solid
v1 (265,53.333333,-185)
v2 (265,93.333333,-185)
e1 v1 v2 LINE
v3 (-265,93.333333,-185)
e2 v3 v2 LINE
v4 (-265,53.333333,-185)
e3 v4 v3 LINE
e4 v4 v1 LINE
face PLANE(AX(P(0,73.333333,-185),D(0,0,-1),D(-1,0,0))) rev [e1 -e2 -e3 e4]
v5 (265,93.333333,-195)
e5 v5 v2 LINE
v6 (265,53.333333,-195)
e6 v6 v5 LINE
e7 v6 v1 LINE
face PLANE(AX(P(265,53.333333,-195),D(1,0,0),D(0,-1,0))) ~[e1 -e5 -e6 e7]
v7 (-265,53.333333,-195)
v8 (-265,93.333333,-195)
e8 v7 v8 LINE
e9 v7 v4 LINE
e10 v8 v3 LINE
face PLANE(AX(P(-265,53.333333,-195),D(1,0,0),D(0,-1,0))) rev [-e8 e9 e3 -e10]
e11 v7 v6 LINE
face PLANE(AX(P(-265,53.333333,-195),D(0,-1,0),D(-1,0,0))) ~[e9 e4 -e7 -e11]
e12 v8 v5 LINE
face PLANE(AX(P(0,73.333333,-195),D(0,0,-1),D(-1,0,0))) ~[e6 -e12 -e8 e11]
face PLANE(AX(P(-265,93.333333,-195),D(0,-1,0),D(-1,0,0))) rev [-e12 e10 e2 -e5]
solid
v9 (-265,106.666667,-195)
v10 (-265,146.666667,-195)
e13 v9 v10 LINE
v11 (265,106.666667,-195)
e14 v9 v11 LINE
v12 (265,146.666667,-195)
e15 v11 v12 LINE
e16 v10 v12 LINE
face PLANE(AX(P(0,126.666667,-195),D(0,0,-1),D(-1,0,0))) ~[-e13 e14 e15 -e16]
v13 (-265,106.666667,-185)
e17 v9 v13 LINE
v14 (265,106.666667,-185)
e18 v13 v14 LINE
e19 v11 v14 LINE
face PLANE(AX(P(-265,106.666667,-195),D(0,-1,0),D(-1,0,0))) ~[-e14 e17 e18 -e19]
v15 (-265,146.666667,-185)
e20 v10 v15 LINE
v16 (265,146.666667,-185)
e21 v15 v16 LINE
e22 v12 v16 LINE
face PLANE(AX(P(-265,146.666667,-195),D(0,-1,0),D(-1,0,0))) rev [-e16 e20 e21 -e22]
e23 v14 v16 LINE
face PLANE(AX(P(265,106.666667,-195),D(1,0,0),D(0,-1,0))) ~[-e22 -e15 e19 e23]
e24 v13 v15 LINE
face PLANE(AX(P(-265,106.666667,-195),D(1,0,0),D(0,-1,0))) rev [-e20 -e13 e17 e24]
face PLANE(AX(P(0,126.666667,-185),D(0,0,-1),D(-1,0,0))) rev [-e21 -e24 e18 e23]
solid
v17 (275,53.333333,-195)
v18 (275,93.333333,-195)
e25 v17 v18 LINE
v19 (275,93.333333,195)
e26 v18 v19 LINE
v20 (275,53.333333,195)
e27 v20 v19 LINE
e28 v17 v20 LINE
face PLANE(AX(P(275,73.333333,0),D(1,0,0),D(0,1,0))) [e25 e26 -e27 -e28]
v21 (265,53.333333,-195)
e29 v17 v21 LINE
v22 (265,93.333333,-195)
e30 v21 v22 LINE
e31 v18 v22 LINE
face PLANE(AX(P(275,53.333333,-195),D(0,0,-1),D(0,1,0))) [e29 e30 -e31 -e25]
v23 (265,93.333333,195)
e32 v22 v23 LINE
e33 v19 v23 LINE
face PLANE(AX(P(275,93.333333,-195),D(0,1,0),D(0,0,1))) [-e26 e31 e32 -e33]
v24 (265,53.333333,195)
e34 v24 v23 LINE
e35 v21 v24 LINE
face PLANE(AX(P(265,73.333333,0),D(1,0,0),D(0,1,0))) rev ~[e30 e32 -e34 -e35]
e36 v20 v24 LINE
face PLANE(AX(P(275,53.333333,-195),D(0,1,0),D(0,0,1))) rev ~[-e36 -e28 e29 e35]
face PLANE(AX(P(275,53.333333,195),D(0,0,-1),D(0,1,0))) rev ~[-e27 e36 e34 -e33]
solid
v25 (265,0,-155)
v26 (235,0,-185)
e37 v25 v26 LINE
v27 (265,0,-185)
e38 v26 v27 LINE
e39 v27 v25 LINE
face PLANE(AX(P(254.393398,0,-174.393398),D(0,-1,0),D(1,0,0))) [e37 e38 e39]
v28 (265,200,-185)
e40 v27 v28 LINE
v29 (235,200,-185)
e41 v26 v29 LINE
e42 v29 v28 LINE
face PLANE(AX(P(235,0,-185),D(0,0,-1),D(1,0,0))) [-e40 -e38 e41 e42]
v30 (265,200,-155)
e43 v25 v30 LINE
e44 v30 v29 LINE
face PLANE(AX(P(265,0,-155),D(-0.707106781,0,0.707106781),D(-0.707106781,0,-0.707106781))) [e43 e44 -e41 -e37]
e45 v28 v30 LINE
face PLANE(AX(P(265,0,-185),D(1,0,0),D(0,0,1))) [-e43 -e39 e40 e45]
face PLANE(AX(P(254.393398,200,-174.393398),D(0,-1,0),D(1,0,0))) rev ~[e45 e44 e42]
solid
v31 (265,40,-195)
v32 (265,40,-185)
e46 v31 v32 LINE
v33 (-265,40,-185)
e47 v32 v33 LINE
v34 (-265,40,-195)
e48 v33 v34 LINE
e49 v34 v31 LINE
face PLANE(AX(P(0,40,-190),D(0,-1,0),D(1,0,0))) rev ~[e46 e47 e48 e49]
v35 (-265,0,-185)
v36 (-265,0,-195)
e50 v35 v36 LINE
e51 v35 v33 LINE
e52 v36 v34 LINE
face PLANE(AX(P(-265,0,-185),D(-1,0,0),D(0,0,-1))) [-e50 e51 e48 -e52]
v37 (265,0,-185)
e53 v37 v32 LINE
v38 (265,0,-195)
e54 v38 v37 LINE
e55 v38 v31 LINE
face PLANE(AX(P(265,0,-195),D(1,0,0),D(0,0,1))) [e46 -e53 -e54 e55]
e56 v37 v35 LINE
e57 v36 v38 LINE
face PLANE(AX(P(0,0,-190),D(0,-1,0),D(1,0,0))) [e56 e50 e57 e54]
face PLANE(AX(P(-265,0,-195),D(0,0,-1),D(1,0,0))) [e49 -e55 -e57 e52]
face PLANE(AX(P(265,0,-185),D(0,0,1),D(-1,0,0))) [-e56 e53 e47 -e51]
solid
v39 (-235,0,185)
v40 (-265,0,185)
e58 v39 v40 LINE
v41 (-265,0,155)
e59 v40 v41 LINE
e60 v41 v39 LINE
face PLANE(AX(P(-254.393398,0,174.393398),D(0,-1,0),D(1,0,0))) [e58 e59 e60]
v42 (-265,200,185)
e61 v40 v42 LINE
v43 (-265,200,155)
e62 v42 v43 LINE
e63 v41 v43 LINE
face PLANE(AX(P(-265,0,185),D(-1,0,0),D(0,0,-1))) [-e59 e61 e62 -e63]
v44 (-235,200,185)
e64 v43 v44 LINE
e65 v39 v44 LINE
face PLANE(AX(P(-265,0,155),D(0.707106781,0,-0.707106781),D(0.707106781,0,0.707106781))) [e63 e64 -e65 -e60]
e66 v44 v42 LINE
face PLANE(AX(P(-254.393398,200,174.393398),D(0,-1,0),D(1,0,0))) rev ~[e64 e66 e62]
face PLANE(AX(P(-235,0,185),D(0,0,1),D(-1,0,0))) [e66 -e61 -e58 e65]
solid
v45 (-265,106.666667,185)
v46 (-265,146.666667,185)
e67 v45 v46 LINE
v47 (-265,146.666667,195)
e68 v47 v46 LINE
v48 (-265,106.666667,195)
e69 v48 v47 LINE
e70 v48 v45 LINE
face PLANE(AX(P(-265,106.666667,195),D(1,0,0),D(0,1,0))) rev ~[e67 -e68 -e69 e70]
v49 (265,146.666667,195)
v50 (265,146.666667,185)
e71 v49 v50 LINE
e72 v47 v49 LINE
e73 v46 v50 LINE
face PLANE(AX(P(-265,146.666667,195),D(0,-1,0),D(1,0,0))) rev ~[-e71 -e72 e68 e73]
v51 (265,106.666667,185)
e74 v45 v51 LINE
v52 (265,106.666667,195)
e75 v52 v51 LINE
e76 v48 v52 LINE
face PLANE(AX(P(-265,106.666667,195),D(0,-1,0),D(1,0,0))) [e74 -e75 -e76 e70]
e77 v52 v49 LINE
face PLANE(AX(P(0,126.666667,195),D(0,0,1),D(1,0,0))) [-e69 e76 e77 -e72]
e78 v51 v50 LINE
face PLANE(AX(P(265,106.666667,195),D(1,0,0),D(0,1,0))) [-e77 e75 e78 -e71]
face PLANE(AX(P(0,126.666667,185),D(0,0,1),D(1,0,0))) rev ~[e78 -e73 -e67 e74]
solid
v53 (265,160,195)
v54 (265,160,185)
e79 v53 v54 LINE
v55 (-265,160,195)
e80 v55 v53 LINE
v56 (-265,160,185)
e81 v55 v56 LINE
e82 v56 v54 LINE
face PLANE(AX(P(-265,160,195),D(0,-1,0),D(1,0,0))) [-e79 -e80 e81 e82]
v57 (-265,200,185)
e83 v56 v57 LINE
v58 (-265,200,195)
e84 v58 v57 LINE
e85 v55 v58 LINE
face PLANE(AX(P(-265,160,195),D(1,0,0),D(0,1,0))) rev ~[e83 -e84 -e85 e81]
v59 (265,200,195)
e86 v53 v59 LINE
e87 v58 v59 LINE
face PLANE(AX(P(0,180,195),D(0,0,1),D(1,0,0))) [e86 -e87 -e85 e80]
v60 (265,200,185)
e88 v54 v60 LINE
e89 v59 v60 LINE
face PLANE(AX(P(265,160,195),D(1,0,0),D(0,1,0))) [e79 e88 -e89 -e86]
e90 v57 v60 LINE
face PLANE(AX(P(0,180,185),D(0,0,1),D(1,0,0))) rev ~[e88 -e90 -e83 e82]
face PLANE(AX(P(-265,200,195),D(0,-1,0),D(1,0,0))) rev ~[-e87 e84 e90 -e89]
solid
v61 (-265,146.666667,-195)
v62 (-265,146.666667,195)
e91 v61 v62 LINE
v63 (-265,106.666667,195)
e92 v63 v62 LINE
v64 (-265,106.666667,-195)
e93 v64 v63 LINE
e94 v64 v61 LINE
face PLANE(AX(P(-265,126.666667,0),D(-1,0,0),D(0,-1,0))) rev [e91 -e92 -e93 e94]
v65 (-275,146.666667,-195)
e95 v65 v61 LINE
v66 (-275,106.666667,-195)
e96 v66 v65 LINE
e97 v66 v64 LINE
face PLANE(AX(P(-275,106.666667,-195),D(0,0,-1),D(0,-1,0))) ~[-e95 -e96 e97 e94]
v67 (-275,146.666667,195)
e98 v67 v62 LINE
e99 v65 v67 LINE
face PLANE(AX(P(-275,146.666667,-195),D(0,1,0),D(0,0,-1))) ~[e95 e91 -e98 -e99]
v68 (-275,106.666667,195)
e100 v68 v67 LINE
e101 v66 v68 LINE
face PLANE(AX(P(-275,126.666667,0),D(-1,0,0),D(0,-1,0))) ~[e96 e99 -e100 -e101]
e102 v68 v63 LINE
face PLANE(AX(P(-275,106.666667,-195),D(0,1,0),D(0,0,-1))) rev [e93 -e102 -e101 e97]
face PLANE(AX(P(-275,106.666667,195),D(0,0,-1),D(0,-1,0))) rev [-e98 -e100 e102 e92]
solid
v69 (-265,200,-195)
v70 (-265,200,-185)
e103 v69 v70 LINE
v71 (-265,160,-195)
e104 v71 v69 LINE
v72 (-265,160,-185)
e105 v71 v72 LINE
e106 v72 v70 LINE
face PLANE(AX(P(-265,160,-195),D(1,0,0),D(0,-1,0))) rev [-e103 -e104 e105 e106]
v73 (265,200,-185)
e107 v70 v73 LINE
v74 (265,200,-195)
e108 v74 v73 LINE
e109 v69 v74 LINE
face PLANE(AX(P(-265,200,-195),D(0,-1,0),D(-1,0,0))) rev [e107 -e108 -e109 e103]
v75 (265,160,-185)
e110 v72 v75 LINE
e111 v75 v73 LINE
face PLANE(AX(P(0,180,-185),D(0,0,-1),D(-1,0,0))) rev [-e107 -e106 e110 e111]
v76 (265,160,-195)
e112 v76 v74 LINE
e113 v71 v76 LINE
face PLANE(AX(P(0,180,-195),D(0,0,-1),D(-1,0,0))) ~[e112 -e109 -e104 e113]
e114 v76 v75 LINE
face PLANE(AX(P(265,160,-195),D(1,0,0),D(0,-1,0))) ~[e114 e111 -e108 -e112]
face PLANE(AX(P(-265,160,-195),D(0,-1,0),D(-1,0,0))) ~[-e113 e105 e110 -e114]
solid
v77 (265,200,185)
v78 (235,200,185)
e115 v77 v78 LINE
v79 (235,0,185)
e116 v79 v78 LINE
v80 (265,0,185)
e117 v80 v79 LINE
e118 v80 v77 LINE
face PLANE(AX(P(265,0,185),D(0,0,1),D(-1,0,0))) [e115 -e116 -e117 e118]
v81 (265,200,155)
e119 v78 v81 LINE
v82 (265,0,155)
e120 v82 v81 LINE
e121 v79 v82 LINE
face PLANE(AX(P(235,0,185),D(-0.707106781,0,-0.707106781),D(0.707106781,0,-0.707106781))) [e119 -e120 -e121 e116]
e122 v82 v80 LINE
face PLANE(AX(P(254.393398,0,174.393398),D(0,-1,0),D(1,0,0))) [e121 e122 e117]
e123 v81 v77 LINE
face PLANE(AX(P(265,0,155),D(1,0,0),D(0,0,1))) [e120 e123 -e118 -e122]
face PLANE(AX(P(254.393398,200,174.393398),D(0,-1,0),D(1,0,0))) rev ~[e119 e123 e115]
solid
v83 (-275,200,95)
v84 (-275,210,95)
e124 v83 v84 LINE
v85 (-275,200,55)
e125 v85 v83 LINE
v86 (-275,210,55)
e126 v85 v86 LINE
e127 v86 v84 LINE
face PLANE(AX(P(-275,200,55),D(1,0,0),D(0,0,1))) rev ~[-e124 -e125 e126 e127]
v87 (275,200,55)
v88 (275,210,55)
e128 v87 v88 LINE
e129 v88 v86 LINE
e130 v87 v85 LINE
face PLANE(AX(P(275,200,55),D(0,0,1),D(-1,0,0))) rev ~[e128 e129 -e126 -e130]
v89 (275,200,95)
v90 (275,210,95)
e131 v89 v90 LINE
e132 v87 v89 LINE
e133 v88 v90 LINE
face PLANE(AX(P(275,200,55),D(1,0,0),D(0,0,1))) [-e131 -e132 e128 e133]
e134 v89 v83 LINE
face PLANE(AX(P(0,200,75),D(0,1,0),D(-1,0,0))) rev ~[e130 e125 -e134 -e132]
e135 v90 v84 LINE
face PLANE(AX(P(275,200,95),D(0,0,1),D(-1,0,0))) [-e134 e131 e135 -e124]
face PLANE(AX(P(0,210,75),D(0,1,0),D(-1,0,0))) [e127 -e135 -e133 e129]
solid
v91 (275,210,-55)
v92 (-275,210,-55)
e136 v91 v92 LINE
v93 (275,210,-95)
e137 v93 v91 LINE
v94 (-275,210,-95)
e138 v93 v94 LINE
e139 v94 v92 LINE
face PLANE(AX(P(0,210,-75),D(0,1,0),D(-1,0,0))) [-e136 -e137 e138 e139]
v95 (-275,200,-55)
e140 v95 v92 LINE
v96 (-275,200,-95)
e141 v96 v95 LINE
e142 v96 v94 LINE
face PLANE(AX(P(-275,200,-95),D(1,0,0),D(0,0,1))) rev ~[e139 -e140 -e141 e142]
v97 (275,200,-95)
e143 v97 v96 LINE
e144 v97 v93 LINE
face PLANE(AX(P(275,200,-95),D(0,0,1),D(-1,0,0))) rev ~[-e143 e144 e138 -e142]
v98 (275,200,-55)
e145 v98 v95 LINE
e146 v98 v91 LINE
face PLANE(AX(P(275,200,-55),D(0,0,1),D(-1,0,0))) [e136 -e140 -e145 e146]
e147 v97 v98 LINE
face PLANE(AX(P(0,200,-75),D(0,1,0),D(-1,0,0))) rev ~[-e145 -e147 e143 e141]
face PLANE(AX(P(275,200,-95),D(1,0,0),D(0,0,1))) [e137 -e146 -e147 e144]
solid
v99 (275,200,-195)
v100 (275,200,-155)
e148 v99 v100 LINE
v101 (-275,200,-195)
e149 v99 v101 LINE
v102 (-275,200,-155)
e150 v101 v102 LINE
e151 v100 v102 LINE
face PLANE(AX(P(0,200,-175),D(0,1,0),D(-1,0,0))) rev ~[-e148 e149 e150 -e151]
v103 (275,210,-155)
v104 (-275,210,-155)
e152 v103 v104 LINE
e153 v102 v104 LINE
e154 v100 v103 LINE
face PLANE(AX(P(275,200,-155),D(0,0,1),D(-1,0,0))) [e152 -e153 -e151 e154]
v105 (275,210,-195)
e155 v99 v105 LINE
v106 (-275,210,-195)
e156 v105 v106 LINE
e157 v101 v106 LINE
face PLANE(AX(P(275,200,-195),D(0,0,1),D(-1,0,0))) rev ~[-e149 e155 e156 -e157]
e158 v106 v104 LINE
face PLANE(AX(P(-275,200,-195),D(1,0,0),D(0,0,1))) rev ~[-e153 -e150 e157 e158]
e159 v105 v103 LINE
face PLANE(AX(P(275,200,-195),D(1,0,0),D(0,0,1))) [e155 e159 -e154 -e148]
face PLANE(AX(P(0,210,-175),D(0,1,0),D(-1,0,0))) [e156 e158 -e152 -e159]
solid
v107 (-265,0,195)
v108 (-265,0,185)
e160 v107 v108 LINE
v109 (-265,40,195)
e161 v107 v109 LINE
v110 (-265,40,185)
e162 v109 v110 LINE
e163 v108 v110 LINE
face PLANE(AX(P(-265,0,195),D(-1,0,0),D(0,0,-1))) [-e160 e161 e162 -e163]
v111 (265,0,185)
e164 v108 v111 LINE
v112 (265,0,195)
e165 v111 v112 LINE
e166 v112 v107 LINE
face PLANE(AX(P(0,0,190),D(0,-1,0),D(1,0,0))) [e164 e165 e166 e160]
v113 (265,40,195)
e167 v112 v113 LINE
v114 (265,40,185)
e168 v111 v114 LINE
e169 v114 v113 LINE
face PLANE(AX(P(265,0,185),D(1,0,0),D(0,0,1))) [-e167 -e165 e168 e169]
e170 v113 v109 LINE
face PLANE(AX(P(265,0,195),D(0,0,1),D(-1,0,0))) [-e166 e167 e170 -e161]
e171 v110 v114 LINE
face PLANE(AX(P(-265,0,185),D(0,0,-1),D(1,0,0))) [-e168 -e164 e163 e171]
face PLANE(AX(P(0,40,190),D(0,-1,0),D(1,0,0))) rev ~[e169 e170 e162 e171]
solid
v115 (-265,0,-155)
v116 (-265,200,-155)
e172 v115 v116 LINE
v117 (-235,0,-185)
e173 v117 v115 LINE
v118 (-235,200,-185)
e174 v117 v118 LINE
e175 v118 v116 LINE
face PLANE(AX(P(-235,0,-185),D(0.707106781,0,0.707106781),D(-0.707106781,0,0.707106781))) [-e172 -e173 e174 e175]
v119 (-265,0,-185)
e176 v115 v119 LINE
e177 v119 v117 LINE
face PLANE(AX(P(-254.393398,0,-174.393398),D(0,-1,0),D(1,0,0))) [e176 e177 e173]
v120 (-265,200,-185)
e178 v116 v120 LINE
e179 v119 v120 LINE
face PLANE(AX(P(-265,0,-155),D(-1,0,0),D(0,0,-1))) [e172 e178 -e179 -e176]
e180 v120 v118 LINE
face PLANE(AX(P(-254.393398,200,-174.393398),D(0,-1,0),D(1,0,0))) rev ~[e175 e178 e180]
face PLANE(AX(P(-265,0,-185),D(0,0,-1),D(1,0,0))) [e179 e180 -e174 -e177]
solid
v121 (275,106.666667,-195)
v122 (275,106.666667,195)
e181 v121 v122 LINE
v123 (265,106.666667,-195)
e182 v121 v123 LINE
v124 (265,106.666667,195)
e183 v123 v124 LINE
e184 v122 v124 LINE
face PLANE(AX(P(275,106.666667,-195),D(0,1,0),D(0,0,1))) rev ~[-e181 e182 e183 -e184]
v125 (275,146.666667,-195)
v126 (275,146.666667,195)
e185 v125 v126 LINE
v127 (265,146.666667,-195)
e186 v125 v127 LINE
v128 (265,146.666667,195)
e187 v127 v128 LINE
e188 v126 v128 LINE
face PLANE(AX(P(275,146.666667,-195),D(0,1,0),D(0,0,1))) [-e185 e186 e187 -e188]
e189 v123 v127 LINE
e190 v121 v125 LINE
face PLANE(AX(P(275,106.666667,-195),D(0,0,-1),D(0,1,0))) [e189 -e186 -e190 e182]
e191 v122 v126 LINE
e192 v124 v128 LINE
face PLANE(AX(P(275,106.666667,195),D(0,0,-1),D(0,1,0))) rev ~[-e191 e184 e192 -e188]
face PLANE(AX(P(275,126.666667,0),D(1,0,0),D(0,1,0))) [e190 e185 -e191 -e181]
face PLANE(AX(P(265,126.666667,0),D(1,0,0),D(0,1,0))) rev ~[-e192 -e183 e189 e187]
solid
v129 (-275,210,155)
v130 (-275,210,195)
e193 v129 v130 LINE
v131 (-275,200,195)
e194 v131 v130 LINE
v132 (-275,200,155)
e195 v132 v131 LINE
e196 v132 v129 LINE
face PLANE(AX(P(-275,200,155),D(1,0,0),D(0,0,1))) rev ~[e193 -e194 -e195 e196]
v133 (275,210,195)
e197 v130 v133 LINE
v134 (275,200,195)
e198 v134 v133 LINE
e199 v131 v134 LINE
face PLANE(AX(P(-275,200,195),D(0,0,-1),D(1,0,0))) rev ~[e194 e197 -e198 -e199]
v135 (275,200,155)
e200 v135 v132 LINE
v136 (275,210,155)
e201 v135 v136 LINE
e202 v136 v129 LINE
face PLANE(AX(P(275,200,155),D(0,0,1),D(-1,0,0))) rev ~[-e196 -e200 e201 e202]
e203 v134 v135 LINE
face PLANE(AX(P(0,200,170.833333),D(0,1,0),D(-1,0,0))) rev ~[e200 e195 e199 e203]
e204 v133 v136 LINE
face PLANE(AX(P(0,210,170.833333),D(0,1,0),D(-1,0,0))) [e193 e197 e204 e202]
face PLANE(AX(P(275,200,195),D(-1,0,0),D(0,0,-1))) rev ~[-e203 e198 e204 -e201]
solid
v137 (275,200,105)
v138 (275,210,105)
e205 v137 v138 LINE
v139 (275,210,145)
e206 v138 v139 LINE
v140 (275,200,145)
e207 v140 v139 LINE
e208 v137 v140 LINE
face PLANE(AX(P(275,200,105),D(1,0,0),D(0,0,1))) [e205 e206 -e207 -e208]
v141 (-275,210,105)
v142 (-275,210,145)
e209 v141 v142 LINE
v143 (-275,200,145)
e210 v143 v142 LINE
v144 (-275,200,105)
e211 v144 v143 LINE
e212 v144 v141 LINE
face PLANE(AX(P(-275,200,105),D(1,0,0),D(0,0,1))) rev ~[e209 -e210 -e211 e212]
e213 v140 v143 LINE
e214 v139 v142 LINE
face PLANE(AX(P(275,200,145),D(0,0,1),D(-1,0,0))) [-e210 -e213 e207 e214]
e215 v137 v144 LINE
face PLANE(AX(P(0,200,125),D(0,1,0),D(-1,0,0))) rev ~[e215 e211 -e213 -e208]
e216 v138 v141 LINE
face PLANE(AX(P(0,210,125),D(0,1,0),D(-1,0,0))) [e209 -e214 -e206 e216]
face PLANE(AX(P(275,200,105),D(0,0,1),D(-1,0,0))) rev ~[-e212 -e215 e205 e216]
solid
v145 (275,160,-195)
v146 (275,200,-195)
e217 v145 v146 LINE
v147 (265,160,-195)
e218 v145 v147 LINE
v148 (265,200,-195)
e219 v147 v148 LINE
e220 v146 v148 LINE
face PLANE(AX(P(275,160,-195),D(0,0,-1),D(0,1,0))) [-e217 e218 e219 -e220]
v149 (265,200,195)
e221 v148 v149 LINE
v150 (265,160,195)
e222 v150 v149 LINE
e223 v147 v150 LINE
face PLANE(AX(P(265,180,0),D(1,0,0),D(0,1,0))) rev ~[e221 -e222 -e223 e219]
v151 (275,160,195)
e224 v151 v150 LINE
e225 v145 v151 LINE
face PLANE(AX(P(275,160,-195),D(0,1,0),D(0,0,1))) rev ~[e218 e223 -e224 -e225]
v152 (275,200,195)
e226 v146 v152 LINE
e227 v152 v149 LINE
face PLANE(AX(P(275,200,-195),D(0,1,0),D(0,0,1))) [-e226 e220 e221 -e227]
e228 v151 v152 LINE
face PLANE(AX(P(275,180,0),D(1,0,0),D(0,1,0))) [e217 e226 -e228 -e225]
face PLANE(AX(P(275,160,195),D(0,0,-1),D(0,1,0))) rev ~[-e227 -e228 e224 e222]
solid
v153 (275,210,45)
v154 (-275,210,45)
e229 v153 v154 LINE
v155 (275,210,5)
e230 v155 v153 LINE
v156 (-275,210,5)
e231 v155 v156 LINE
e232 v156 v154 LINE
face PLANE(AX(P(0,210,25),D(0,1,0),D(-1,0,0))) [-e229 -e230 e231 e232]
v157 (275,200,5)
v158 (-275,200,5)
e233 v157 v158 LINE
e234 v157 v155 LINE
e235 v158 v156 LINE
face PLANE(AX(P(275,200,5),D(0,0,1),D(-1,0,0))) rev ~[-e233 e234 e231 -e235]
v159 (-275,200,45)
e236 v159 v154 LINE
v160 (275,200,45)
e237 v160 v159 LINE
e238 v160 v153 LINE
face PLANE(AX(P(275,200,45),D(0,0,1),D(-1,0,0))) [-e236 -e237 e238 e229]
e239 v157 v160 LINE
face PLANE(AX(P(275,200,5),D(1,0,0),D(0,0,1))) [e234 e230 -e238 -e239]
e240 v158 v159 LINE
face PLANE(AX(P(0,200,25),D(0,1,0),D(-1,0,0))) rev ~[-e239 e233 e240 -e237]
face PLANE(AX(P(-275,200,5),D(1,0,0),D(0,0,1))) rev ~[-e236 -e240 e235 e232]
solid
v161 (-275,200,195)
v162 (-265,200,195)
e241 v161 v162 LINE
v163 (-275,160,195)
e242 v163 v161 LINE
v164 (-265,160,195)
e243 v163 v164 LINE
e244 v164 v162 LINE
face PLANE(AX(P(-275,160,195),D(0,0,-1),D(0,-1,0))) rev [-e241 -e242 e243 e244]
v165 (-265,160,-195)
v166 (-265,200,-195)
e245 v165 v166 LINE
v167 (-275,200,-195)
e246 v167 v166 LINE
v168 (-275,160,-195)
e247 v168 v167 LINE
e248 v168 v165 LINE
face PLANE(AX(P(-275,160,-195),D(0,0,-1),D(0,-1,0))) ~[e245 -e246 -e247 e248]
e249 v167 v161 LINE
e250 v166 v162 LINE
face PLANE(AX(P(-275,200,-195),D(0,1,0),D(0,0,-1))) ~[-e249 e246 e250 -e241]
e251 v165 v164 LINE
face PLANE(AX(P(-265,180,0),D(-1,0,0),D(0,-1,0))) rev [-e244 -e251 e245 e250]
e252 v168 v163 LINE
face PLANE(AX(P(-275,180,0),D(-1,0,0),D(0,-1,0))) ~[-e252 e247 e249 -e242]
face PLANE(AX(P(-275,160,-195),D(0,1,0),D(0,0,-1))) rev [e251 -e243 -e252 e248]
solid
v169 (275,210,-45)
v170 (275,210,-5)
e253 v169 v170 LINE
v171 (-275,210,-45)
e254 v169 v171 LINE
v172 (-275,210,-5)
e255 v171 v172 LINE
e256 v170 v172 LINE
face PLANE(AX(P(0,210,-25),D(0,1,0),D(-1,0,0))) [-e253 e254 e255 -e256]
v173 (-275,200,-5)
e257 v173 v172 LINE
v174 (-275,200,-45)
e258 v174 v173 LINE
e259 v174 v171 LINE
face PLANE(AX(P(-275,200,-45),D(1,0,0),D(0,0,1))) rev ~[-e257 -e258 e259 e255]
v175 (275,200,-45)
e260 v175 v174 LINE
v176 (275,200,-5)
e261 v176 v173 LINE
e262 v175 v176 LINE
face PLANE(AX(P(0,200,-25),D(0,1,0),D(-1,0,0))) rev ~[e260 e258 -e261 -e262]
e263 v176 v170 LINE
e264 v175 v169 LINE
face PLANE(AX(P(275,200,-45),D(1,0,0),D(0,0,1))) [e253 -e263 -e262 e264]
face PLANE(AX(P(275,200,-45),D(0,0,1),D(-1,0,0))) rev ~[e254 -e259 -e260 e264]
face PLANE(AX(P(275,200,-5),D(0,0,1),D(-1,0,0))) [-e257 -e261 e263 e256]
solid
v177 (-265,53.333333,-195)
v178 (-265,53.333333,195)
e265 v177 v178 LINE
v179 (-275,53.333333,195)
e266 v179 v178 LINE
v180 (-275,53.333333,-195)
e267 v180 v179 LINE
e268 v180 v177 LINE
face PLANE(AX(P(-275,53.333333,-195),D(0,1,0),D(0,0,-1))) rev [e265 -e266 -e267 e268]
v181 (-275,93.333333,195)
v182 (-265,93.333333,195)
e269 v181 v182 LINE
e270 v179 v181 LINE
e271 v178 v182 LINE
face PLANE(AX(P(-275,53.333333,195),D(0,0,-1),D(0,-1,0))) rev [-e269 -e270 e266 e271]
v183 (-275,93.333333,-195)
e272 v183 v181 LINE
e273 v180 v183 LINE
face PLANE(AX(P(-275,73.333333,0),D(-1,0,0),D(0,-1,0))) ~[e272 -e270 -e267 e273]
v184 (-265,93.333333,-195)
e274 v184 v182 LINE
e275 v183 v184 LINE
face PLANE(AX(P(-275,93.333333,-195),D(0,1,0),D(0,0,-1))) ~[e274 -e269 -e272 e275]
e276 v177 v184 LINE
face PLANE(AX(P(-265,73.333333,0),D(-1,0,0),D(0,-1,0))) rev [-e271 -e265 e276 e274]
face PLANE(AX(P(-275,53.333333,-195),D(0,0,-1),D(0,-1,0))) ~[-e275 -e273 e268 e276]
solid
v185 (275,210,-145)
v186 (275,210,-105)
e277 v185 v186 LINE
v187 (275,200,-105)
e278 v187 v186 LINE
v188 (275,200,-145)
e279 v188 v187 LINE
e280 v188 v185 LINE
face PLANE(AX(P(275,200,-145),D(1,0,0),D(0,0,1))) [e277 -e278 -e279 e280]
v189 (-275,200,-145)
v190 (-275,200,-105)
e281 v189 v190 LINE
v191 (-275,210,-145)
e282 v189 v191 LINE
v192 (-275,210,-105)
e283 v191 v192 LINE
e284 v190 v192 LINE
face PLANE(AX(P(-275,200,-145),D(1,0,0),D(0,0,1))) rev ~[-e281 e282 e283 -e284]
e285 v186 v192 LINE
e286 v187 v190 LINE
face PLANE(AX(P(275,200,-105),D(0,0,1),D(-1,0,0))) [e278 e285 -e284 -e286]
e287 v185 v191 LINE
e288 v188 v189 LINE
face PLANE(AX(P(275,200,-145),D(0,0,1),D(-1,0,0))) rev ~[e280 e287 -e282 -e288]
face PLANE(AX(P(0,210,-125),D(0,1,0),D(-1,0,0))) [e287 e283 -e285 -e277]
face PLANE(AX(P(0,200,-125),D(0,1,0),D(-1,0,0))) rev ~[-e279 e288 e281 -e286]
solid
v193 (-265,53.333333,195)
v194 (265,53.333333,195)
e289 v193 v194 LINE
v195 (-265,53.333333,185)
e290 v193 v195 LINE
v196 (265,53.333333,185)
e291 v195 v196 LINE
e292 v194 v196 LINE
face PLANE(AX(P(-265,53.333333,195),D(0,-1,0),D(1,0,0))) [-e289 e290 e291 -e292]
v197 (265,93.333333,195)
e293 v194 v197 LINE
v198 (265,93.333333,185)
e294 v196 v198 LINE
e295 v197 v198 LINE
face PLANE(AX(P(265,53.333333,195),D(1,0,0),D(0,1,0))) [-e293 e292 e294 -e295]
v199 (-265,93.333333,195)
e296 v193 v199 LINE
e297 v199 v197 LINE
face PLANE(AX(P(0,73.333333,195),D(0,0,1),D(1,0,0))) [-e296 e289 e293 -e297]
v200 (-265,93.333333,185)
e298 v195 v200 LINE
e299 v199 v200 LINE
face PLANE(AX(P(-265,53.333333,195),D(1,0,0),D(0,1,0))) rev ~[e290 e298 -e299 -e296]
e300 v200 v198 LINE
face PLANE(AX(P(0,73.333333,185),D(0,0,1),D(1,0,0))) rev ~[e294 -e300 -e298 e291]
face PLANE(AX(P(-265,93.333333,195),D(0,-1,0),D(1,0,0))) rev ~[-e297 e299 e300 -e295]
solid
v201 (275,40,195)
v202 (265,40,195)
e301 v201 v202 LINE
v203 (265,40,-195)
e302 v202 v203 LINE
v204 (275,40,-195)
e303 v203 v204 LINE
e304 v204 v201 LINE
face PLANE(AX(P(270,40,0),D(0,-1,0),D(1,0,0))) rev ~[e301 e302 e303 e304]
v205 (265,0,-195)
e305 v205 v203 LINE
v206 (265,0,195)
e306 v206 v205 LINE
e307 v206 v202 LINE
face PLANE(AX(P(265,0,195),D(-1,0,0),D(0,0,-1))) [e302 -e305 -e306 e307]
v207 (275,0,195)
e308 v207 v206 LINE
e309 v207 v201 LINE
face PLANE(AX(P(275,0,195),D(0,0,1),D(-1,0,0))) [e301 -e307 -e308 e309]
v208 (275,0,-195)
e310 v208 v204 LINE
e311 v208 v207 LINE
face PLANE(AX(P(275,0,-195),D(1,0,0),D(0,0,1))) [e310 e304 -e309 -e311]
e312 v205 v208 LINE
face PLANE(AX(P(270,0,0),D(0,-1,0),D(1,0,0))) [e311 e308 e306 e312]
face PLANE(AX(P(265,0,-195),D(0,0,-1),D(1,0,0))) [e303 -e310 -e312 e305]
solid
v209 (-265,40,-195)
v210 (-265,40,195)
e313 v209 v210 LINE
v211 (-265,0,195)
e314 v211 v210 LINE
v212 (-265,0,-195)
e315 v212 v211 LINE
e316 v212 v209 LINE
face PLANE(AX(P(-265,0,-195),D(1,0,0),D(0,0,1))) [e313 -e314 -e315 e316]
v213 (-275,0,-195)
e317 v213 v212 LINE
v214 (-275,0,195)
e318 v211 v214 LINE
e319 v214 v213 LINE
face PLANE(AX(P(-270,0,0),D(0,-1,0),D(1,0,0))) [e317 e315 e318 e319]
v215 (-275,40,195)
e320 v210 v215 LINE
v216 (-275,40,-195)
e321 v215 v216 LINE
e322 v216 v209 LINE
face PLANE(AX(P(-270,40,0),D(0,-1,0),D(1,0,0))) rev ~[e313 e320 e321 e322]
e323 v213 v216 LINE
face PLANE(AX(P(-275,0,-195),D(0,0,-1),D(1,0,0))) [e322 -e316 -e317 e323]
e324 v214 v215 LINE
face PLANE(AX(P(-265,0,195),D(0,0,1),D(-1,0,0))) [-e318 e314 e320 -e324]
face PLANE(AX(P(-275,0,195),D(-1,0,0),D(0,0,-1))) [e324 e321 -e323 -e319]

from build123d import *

# Parameters (mm, degrees)
F4_DEPTH  = 40
F5_DEPTH  = 200
F6_DEPTH  = 40
F7_W      = 40
F7_H      = 390
F8_DEPTH  = 10
F10_W     = 530
F10_H     = 40
F11_DEPTH = 10
F13_W     = 530
F13_H     = 10
F14_DEPTH = 10
F13_W_2   = 550
F13_H_2   = 40
F15_DEPTH = 10


with BuildPart() as f4:
    # F3 (on Front) → F4 (new body)
    with BuildSketch(Plane.XZ):
        Polygon((-265, 195), (-275, 195), (-275, -195), (-265, -195), (-265, -185), (-265, -155), (-265, 155), (-265, 185), align=None)
    extrude(amount=-F4_DEPTH)


with BuildPart() as f4b:
    # F3 (on Front) → F4, piece 2 (new body)
    with BuildSketch(Plane.XZ):
        Polygon((275, 195), (265, 195), (265, 185), (265, 155), (265, -155), (265, -185), (265, -195), (275, -195), align=None)
    extrude(amount=-F4_DEPTH)


with BuildPart() as f5:
    # F3 (on Front) → F5 (new body)
    with BuildSketch(Plane.XZ):
        Polygon((-235, 185), (-265, 185), (-265, 155), align=None)
    extrude(amount=-F5_DEPTH)


with BuildPart() as f5b:
    # F3 (on Front) → F5, piece 2 (new body)
    with BuildSketch(Plane.XZ):
        Polygon((265, 155), (265, 185), (235, 185), align=None)
    extrude(amount=-F5_DEPTH)


with BuildPart() as f5c:
    # F3 (on Front) → F5, piece 3 (new body)
    with BuildSketch(Plane.XZ):
        Polygon((235, -185), (265, -185), (265, -155), align=None)
    extrude(amount=-F5_DEPTH)


with BuildPart() as f5d:
    # F3 (on Front) → F5, piece 4 (new body)
    with BuildSketch(Plane.XZ):
        Polygon((-265, -155), (-265, -185), (-235, -185), align=None)
    extrude(amount=-F5_DEPTH)


with BuildPart() as f6:
    # F3 (on Front) → F6 (new body)
    with BuildSketch(Plane.XZ):
        Polygon((265, 195), (-265, 195), (-265, 185), (-235, 185), (235, 185), (265, 185), align=None)
    extrude(amount=-F6_DEPTH)


with BuildPart() as f6b:
    # F3 (on Front) → F6, piece 2 (new body)
    with BuildSketch(Plane.XZ):
        Polygon((-265, -185), (-265, -195), (265, -195), (265, -185), (235, -185), (-235, -185), align=None)
    extrude(amount=-F6_DEPTH)


with BuildPart() as f8:
    # F7 (on face) → F8 (new body, through all)
    with BuildSketch(Plane.YZ.offset(275)):
        with Locations((73.3333333333, 0)):
            Rectangle(F7_W, F7_H)
    extrude(amount=-F8_DEPTH)


with BuildPart() as f8b:
    # F7 (on face) → F8, piece 2 (new body, through all)
    with BuildSketch(Plane.YZ.offset(275)):
        with Locations((126.6666666667, 0)):
            Rectangle(F7_W, F7_H)
    extrude(amount=-F8_DEPTH)


with BuildPart() as f8c:
    # F7 (on face) → F8, piece 3 (new body, through all)
    with BuildSketch(Plane.YZ.offset(275)):
        with Locations((180, 0)):
            Rectangle(F7_W, F7_H)
    extrude(amount=-F8_DEPTH)


with BuildPart() as f9_1:
    # F9: instance of F8
    add(f8.part.mirror(Plane.YZ))


with BuildPart() as f9_2:
    # F9: instance of F8b
    add(f8b.part.mirror(Plane.YZ))


with BuildPart() as f9_3:
    # F9: instance of F8c
    add(f8c.part.mirror(Plane.YZ))


with BuildPart() as f11:
    # F10 (on face) → F11 (new body, through all)
    with BuildSketch(Plane.XY.offset(195)):
        with Locations((0, 73.3333333333)):
            Rectangle(F10_W, F10_H)
    extrude(amount=-F11_DEPTH)


with BuildPart() as f11b:
    # F10 (on face) → F11, piece 2 (new body, through all)
    with BuildSketch(Plane.XY.offset(195)):
        with Locations((0, 126.6666666667)):
            Rectangle(F10_W, F10_H)
    extrude(amount=-F11_DEPTH)


with BuildPart() as f11c:
    # F10 (on face) → F11, piece 3 (new body, through all)
    with BuildSketch(Plane.XY.offset(195)):
        with Locations((0, 180)):
            Rectangle(F10_W, F10_H)
    extrude(amount=-F11_DEPTH)


with BuildPart() as f12_1:
    # F12: instance of F11
    add(f11.part.mirror(Plane.XY))


with BuildPart() as f12_2:
    # F12: instance of F11b
    add(f11b.part.mirror(Plane.XY))


with BuildPart() as f12_3:
    # F12: instance of F11c
    add(f11c.part.mirror(Plane.XY))


with BuildPart() as f14:
    # F13 (on face) → F14 (new body)
    with BuildSketch(Plane(origin=(0, 200, 0), x_dir=(-1, 0, 0), z_dir=(0, 1, 0))):
        Polygon((-265, 195), (-275, 195), (-275, 155), (275, 155), (275, 195), (265, 195), (265, 185), (-265, 185), align=None)
        with Locations((0, 190)):
            Rectangle(F13_W, F13_H)
    extrude(amount=F14_DEPTH)


with BuildPart() as f15:
    # F13 (on face) → F15 (new body)
    with BuildSketch(Plane(origin=(0, 200, 0), x_dir=(-1, 0, 0), z_dir=(0, 1, 0))):
        with Locations((0, 125)):
            Rectangle(F13_W_2, F13_H_2)
    extrude(amount=F15_DEPTH)


with BuildPart() as f15b:
    # F13 (on face) → F15, piece 2 (new body)
    with BuildSketch(Plane(origin=(0, 200, 0), x_dir=(-1, 0, 0), z_dir=(0, 1, 0))):
        with Locations((0, 75)):
            Rectangle(F13_W_2, F13_H_2)
    extrude(amount=F15_DEPTH)


with BuildPart() as f15c:
    # F13 (on face) → F15, piece 3 (new body)
    with BuildSketch(Plane(origin=(0, 200, 0), x_dir=(-1, 0, 0), z_dir=(0, 1, 0))):
        with Locations((0, 25)):
            Rectangle(F13_W_2, F13_H_2)
    extrude(amount=F15_DEPTH)


with BuildPart() as f15d:
    # F13 (on face) → F15, piece 4 (new body)
    with BuildSketch(Plane(origin=(0, 200, 0), x_dir=(-1, 0, 0), z_dir=(0, 1, 0))):
        with Locations((0, -25)):
            Rectangle(F13_W_2, F13_H_2)
    extrude(amount=F15_DEPTH)


with BuildPart() as f15e:
    # F13 (on face) → F15, piece 5 (new body)
    with BuildSketch(Plane(origin=(0, 200, 0), x_dir=(-1, 0, 0), z_dir=(0, 1, 0))):
        with Locations((0, -75)):
            Rectangle(F13_W_2, F13_H_2)
    extrude(amount=F15_DEPTH)


with BuildPart() as f15f:
    # F13 (on face) → F15, piece 6 (new body)
    with BuildSketch(Plane(origin=(0, 200, 0), x_dir=(-1, 0, 0), z_dir=(0, 1, 0))):
        with Locations((0, -125)):
            Rectangle(F13_W_2, F13_H_2)
    extrude(amount=F15_DEPTH)


with BuildPart() as f15g:
    # F13 (on face) → F15, piece 7 (new body)
    with BuildSketch(Plane(origin=(0, 200, 0), x_dir=(-1, 0, 0), z_dir=(0, 1, 0))):
        with Locations((0, -175)):
            Rectangle(F13_W_2, F13_H_2)
    extrude(amount=F15_DEPTH)


solid = Compound([f4.part, f4b.part, f5.part, f5b.part, f5c.part, f5d.part, f6.part, f6b.part, f8.part, f8b.part, f8c.part, f9_1.part, f9_2.part, f9_3.part, f11.part, f11b.part, f11c.part, f12_1.part, f12_2.part, f12_3.part, f14.part, f15.part, f15b.part, f15c.part, f15d.part, f15e.part, f15f.part, f15g.part])
